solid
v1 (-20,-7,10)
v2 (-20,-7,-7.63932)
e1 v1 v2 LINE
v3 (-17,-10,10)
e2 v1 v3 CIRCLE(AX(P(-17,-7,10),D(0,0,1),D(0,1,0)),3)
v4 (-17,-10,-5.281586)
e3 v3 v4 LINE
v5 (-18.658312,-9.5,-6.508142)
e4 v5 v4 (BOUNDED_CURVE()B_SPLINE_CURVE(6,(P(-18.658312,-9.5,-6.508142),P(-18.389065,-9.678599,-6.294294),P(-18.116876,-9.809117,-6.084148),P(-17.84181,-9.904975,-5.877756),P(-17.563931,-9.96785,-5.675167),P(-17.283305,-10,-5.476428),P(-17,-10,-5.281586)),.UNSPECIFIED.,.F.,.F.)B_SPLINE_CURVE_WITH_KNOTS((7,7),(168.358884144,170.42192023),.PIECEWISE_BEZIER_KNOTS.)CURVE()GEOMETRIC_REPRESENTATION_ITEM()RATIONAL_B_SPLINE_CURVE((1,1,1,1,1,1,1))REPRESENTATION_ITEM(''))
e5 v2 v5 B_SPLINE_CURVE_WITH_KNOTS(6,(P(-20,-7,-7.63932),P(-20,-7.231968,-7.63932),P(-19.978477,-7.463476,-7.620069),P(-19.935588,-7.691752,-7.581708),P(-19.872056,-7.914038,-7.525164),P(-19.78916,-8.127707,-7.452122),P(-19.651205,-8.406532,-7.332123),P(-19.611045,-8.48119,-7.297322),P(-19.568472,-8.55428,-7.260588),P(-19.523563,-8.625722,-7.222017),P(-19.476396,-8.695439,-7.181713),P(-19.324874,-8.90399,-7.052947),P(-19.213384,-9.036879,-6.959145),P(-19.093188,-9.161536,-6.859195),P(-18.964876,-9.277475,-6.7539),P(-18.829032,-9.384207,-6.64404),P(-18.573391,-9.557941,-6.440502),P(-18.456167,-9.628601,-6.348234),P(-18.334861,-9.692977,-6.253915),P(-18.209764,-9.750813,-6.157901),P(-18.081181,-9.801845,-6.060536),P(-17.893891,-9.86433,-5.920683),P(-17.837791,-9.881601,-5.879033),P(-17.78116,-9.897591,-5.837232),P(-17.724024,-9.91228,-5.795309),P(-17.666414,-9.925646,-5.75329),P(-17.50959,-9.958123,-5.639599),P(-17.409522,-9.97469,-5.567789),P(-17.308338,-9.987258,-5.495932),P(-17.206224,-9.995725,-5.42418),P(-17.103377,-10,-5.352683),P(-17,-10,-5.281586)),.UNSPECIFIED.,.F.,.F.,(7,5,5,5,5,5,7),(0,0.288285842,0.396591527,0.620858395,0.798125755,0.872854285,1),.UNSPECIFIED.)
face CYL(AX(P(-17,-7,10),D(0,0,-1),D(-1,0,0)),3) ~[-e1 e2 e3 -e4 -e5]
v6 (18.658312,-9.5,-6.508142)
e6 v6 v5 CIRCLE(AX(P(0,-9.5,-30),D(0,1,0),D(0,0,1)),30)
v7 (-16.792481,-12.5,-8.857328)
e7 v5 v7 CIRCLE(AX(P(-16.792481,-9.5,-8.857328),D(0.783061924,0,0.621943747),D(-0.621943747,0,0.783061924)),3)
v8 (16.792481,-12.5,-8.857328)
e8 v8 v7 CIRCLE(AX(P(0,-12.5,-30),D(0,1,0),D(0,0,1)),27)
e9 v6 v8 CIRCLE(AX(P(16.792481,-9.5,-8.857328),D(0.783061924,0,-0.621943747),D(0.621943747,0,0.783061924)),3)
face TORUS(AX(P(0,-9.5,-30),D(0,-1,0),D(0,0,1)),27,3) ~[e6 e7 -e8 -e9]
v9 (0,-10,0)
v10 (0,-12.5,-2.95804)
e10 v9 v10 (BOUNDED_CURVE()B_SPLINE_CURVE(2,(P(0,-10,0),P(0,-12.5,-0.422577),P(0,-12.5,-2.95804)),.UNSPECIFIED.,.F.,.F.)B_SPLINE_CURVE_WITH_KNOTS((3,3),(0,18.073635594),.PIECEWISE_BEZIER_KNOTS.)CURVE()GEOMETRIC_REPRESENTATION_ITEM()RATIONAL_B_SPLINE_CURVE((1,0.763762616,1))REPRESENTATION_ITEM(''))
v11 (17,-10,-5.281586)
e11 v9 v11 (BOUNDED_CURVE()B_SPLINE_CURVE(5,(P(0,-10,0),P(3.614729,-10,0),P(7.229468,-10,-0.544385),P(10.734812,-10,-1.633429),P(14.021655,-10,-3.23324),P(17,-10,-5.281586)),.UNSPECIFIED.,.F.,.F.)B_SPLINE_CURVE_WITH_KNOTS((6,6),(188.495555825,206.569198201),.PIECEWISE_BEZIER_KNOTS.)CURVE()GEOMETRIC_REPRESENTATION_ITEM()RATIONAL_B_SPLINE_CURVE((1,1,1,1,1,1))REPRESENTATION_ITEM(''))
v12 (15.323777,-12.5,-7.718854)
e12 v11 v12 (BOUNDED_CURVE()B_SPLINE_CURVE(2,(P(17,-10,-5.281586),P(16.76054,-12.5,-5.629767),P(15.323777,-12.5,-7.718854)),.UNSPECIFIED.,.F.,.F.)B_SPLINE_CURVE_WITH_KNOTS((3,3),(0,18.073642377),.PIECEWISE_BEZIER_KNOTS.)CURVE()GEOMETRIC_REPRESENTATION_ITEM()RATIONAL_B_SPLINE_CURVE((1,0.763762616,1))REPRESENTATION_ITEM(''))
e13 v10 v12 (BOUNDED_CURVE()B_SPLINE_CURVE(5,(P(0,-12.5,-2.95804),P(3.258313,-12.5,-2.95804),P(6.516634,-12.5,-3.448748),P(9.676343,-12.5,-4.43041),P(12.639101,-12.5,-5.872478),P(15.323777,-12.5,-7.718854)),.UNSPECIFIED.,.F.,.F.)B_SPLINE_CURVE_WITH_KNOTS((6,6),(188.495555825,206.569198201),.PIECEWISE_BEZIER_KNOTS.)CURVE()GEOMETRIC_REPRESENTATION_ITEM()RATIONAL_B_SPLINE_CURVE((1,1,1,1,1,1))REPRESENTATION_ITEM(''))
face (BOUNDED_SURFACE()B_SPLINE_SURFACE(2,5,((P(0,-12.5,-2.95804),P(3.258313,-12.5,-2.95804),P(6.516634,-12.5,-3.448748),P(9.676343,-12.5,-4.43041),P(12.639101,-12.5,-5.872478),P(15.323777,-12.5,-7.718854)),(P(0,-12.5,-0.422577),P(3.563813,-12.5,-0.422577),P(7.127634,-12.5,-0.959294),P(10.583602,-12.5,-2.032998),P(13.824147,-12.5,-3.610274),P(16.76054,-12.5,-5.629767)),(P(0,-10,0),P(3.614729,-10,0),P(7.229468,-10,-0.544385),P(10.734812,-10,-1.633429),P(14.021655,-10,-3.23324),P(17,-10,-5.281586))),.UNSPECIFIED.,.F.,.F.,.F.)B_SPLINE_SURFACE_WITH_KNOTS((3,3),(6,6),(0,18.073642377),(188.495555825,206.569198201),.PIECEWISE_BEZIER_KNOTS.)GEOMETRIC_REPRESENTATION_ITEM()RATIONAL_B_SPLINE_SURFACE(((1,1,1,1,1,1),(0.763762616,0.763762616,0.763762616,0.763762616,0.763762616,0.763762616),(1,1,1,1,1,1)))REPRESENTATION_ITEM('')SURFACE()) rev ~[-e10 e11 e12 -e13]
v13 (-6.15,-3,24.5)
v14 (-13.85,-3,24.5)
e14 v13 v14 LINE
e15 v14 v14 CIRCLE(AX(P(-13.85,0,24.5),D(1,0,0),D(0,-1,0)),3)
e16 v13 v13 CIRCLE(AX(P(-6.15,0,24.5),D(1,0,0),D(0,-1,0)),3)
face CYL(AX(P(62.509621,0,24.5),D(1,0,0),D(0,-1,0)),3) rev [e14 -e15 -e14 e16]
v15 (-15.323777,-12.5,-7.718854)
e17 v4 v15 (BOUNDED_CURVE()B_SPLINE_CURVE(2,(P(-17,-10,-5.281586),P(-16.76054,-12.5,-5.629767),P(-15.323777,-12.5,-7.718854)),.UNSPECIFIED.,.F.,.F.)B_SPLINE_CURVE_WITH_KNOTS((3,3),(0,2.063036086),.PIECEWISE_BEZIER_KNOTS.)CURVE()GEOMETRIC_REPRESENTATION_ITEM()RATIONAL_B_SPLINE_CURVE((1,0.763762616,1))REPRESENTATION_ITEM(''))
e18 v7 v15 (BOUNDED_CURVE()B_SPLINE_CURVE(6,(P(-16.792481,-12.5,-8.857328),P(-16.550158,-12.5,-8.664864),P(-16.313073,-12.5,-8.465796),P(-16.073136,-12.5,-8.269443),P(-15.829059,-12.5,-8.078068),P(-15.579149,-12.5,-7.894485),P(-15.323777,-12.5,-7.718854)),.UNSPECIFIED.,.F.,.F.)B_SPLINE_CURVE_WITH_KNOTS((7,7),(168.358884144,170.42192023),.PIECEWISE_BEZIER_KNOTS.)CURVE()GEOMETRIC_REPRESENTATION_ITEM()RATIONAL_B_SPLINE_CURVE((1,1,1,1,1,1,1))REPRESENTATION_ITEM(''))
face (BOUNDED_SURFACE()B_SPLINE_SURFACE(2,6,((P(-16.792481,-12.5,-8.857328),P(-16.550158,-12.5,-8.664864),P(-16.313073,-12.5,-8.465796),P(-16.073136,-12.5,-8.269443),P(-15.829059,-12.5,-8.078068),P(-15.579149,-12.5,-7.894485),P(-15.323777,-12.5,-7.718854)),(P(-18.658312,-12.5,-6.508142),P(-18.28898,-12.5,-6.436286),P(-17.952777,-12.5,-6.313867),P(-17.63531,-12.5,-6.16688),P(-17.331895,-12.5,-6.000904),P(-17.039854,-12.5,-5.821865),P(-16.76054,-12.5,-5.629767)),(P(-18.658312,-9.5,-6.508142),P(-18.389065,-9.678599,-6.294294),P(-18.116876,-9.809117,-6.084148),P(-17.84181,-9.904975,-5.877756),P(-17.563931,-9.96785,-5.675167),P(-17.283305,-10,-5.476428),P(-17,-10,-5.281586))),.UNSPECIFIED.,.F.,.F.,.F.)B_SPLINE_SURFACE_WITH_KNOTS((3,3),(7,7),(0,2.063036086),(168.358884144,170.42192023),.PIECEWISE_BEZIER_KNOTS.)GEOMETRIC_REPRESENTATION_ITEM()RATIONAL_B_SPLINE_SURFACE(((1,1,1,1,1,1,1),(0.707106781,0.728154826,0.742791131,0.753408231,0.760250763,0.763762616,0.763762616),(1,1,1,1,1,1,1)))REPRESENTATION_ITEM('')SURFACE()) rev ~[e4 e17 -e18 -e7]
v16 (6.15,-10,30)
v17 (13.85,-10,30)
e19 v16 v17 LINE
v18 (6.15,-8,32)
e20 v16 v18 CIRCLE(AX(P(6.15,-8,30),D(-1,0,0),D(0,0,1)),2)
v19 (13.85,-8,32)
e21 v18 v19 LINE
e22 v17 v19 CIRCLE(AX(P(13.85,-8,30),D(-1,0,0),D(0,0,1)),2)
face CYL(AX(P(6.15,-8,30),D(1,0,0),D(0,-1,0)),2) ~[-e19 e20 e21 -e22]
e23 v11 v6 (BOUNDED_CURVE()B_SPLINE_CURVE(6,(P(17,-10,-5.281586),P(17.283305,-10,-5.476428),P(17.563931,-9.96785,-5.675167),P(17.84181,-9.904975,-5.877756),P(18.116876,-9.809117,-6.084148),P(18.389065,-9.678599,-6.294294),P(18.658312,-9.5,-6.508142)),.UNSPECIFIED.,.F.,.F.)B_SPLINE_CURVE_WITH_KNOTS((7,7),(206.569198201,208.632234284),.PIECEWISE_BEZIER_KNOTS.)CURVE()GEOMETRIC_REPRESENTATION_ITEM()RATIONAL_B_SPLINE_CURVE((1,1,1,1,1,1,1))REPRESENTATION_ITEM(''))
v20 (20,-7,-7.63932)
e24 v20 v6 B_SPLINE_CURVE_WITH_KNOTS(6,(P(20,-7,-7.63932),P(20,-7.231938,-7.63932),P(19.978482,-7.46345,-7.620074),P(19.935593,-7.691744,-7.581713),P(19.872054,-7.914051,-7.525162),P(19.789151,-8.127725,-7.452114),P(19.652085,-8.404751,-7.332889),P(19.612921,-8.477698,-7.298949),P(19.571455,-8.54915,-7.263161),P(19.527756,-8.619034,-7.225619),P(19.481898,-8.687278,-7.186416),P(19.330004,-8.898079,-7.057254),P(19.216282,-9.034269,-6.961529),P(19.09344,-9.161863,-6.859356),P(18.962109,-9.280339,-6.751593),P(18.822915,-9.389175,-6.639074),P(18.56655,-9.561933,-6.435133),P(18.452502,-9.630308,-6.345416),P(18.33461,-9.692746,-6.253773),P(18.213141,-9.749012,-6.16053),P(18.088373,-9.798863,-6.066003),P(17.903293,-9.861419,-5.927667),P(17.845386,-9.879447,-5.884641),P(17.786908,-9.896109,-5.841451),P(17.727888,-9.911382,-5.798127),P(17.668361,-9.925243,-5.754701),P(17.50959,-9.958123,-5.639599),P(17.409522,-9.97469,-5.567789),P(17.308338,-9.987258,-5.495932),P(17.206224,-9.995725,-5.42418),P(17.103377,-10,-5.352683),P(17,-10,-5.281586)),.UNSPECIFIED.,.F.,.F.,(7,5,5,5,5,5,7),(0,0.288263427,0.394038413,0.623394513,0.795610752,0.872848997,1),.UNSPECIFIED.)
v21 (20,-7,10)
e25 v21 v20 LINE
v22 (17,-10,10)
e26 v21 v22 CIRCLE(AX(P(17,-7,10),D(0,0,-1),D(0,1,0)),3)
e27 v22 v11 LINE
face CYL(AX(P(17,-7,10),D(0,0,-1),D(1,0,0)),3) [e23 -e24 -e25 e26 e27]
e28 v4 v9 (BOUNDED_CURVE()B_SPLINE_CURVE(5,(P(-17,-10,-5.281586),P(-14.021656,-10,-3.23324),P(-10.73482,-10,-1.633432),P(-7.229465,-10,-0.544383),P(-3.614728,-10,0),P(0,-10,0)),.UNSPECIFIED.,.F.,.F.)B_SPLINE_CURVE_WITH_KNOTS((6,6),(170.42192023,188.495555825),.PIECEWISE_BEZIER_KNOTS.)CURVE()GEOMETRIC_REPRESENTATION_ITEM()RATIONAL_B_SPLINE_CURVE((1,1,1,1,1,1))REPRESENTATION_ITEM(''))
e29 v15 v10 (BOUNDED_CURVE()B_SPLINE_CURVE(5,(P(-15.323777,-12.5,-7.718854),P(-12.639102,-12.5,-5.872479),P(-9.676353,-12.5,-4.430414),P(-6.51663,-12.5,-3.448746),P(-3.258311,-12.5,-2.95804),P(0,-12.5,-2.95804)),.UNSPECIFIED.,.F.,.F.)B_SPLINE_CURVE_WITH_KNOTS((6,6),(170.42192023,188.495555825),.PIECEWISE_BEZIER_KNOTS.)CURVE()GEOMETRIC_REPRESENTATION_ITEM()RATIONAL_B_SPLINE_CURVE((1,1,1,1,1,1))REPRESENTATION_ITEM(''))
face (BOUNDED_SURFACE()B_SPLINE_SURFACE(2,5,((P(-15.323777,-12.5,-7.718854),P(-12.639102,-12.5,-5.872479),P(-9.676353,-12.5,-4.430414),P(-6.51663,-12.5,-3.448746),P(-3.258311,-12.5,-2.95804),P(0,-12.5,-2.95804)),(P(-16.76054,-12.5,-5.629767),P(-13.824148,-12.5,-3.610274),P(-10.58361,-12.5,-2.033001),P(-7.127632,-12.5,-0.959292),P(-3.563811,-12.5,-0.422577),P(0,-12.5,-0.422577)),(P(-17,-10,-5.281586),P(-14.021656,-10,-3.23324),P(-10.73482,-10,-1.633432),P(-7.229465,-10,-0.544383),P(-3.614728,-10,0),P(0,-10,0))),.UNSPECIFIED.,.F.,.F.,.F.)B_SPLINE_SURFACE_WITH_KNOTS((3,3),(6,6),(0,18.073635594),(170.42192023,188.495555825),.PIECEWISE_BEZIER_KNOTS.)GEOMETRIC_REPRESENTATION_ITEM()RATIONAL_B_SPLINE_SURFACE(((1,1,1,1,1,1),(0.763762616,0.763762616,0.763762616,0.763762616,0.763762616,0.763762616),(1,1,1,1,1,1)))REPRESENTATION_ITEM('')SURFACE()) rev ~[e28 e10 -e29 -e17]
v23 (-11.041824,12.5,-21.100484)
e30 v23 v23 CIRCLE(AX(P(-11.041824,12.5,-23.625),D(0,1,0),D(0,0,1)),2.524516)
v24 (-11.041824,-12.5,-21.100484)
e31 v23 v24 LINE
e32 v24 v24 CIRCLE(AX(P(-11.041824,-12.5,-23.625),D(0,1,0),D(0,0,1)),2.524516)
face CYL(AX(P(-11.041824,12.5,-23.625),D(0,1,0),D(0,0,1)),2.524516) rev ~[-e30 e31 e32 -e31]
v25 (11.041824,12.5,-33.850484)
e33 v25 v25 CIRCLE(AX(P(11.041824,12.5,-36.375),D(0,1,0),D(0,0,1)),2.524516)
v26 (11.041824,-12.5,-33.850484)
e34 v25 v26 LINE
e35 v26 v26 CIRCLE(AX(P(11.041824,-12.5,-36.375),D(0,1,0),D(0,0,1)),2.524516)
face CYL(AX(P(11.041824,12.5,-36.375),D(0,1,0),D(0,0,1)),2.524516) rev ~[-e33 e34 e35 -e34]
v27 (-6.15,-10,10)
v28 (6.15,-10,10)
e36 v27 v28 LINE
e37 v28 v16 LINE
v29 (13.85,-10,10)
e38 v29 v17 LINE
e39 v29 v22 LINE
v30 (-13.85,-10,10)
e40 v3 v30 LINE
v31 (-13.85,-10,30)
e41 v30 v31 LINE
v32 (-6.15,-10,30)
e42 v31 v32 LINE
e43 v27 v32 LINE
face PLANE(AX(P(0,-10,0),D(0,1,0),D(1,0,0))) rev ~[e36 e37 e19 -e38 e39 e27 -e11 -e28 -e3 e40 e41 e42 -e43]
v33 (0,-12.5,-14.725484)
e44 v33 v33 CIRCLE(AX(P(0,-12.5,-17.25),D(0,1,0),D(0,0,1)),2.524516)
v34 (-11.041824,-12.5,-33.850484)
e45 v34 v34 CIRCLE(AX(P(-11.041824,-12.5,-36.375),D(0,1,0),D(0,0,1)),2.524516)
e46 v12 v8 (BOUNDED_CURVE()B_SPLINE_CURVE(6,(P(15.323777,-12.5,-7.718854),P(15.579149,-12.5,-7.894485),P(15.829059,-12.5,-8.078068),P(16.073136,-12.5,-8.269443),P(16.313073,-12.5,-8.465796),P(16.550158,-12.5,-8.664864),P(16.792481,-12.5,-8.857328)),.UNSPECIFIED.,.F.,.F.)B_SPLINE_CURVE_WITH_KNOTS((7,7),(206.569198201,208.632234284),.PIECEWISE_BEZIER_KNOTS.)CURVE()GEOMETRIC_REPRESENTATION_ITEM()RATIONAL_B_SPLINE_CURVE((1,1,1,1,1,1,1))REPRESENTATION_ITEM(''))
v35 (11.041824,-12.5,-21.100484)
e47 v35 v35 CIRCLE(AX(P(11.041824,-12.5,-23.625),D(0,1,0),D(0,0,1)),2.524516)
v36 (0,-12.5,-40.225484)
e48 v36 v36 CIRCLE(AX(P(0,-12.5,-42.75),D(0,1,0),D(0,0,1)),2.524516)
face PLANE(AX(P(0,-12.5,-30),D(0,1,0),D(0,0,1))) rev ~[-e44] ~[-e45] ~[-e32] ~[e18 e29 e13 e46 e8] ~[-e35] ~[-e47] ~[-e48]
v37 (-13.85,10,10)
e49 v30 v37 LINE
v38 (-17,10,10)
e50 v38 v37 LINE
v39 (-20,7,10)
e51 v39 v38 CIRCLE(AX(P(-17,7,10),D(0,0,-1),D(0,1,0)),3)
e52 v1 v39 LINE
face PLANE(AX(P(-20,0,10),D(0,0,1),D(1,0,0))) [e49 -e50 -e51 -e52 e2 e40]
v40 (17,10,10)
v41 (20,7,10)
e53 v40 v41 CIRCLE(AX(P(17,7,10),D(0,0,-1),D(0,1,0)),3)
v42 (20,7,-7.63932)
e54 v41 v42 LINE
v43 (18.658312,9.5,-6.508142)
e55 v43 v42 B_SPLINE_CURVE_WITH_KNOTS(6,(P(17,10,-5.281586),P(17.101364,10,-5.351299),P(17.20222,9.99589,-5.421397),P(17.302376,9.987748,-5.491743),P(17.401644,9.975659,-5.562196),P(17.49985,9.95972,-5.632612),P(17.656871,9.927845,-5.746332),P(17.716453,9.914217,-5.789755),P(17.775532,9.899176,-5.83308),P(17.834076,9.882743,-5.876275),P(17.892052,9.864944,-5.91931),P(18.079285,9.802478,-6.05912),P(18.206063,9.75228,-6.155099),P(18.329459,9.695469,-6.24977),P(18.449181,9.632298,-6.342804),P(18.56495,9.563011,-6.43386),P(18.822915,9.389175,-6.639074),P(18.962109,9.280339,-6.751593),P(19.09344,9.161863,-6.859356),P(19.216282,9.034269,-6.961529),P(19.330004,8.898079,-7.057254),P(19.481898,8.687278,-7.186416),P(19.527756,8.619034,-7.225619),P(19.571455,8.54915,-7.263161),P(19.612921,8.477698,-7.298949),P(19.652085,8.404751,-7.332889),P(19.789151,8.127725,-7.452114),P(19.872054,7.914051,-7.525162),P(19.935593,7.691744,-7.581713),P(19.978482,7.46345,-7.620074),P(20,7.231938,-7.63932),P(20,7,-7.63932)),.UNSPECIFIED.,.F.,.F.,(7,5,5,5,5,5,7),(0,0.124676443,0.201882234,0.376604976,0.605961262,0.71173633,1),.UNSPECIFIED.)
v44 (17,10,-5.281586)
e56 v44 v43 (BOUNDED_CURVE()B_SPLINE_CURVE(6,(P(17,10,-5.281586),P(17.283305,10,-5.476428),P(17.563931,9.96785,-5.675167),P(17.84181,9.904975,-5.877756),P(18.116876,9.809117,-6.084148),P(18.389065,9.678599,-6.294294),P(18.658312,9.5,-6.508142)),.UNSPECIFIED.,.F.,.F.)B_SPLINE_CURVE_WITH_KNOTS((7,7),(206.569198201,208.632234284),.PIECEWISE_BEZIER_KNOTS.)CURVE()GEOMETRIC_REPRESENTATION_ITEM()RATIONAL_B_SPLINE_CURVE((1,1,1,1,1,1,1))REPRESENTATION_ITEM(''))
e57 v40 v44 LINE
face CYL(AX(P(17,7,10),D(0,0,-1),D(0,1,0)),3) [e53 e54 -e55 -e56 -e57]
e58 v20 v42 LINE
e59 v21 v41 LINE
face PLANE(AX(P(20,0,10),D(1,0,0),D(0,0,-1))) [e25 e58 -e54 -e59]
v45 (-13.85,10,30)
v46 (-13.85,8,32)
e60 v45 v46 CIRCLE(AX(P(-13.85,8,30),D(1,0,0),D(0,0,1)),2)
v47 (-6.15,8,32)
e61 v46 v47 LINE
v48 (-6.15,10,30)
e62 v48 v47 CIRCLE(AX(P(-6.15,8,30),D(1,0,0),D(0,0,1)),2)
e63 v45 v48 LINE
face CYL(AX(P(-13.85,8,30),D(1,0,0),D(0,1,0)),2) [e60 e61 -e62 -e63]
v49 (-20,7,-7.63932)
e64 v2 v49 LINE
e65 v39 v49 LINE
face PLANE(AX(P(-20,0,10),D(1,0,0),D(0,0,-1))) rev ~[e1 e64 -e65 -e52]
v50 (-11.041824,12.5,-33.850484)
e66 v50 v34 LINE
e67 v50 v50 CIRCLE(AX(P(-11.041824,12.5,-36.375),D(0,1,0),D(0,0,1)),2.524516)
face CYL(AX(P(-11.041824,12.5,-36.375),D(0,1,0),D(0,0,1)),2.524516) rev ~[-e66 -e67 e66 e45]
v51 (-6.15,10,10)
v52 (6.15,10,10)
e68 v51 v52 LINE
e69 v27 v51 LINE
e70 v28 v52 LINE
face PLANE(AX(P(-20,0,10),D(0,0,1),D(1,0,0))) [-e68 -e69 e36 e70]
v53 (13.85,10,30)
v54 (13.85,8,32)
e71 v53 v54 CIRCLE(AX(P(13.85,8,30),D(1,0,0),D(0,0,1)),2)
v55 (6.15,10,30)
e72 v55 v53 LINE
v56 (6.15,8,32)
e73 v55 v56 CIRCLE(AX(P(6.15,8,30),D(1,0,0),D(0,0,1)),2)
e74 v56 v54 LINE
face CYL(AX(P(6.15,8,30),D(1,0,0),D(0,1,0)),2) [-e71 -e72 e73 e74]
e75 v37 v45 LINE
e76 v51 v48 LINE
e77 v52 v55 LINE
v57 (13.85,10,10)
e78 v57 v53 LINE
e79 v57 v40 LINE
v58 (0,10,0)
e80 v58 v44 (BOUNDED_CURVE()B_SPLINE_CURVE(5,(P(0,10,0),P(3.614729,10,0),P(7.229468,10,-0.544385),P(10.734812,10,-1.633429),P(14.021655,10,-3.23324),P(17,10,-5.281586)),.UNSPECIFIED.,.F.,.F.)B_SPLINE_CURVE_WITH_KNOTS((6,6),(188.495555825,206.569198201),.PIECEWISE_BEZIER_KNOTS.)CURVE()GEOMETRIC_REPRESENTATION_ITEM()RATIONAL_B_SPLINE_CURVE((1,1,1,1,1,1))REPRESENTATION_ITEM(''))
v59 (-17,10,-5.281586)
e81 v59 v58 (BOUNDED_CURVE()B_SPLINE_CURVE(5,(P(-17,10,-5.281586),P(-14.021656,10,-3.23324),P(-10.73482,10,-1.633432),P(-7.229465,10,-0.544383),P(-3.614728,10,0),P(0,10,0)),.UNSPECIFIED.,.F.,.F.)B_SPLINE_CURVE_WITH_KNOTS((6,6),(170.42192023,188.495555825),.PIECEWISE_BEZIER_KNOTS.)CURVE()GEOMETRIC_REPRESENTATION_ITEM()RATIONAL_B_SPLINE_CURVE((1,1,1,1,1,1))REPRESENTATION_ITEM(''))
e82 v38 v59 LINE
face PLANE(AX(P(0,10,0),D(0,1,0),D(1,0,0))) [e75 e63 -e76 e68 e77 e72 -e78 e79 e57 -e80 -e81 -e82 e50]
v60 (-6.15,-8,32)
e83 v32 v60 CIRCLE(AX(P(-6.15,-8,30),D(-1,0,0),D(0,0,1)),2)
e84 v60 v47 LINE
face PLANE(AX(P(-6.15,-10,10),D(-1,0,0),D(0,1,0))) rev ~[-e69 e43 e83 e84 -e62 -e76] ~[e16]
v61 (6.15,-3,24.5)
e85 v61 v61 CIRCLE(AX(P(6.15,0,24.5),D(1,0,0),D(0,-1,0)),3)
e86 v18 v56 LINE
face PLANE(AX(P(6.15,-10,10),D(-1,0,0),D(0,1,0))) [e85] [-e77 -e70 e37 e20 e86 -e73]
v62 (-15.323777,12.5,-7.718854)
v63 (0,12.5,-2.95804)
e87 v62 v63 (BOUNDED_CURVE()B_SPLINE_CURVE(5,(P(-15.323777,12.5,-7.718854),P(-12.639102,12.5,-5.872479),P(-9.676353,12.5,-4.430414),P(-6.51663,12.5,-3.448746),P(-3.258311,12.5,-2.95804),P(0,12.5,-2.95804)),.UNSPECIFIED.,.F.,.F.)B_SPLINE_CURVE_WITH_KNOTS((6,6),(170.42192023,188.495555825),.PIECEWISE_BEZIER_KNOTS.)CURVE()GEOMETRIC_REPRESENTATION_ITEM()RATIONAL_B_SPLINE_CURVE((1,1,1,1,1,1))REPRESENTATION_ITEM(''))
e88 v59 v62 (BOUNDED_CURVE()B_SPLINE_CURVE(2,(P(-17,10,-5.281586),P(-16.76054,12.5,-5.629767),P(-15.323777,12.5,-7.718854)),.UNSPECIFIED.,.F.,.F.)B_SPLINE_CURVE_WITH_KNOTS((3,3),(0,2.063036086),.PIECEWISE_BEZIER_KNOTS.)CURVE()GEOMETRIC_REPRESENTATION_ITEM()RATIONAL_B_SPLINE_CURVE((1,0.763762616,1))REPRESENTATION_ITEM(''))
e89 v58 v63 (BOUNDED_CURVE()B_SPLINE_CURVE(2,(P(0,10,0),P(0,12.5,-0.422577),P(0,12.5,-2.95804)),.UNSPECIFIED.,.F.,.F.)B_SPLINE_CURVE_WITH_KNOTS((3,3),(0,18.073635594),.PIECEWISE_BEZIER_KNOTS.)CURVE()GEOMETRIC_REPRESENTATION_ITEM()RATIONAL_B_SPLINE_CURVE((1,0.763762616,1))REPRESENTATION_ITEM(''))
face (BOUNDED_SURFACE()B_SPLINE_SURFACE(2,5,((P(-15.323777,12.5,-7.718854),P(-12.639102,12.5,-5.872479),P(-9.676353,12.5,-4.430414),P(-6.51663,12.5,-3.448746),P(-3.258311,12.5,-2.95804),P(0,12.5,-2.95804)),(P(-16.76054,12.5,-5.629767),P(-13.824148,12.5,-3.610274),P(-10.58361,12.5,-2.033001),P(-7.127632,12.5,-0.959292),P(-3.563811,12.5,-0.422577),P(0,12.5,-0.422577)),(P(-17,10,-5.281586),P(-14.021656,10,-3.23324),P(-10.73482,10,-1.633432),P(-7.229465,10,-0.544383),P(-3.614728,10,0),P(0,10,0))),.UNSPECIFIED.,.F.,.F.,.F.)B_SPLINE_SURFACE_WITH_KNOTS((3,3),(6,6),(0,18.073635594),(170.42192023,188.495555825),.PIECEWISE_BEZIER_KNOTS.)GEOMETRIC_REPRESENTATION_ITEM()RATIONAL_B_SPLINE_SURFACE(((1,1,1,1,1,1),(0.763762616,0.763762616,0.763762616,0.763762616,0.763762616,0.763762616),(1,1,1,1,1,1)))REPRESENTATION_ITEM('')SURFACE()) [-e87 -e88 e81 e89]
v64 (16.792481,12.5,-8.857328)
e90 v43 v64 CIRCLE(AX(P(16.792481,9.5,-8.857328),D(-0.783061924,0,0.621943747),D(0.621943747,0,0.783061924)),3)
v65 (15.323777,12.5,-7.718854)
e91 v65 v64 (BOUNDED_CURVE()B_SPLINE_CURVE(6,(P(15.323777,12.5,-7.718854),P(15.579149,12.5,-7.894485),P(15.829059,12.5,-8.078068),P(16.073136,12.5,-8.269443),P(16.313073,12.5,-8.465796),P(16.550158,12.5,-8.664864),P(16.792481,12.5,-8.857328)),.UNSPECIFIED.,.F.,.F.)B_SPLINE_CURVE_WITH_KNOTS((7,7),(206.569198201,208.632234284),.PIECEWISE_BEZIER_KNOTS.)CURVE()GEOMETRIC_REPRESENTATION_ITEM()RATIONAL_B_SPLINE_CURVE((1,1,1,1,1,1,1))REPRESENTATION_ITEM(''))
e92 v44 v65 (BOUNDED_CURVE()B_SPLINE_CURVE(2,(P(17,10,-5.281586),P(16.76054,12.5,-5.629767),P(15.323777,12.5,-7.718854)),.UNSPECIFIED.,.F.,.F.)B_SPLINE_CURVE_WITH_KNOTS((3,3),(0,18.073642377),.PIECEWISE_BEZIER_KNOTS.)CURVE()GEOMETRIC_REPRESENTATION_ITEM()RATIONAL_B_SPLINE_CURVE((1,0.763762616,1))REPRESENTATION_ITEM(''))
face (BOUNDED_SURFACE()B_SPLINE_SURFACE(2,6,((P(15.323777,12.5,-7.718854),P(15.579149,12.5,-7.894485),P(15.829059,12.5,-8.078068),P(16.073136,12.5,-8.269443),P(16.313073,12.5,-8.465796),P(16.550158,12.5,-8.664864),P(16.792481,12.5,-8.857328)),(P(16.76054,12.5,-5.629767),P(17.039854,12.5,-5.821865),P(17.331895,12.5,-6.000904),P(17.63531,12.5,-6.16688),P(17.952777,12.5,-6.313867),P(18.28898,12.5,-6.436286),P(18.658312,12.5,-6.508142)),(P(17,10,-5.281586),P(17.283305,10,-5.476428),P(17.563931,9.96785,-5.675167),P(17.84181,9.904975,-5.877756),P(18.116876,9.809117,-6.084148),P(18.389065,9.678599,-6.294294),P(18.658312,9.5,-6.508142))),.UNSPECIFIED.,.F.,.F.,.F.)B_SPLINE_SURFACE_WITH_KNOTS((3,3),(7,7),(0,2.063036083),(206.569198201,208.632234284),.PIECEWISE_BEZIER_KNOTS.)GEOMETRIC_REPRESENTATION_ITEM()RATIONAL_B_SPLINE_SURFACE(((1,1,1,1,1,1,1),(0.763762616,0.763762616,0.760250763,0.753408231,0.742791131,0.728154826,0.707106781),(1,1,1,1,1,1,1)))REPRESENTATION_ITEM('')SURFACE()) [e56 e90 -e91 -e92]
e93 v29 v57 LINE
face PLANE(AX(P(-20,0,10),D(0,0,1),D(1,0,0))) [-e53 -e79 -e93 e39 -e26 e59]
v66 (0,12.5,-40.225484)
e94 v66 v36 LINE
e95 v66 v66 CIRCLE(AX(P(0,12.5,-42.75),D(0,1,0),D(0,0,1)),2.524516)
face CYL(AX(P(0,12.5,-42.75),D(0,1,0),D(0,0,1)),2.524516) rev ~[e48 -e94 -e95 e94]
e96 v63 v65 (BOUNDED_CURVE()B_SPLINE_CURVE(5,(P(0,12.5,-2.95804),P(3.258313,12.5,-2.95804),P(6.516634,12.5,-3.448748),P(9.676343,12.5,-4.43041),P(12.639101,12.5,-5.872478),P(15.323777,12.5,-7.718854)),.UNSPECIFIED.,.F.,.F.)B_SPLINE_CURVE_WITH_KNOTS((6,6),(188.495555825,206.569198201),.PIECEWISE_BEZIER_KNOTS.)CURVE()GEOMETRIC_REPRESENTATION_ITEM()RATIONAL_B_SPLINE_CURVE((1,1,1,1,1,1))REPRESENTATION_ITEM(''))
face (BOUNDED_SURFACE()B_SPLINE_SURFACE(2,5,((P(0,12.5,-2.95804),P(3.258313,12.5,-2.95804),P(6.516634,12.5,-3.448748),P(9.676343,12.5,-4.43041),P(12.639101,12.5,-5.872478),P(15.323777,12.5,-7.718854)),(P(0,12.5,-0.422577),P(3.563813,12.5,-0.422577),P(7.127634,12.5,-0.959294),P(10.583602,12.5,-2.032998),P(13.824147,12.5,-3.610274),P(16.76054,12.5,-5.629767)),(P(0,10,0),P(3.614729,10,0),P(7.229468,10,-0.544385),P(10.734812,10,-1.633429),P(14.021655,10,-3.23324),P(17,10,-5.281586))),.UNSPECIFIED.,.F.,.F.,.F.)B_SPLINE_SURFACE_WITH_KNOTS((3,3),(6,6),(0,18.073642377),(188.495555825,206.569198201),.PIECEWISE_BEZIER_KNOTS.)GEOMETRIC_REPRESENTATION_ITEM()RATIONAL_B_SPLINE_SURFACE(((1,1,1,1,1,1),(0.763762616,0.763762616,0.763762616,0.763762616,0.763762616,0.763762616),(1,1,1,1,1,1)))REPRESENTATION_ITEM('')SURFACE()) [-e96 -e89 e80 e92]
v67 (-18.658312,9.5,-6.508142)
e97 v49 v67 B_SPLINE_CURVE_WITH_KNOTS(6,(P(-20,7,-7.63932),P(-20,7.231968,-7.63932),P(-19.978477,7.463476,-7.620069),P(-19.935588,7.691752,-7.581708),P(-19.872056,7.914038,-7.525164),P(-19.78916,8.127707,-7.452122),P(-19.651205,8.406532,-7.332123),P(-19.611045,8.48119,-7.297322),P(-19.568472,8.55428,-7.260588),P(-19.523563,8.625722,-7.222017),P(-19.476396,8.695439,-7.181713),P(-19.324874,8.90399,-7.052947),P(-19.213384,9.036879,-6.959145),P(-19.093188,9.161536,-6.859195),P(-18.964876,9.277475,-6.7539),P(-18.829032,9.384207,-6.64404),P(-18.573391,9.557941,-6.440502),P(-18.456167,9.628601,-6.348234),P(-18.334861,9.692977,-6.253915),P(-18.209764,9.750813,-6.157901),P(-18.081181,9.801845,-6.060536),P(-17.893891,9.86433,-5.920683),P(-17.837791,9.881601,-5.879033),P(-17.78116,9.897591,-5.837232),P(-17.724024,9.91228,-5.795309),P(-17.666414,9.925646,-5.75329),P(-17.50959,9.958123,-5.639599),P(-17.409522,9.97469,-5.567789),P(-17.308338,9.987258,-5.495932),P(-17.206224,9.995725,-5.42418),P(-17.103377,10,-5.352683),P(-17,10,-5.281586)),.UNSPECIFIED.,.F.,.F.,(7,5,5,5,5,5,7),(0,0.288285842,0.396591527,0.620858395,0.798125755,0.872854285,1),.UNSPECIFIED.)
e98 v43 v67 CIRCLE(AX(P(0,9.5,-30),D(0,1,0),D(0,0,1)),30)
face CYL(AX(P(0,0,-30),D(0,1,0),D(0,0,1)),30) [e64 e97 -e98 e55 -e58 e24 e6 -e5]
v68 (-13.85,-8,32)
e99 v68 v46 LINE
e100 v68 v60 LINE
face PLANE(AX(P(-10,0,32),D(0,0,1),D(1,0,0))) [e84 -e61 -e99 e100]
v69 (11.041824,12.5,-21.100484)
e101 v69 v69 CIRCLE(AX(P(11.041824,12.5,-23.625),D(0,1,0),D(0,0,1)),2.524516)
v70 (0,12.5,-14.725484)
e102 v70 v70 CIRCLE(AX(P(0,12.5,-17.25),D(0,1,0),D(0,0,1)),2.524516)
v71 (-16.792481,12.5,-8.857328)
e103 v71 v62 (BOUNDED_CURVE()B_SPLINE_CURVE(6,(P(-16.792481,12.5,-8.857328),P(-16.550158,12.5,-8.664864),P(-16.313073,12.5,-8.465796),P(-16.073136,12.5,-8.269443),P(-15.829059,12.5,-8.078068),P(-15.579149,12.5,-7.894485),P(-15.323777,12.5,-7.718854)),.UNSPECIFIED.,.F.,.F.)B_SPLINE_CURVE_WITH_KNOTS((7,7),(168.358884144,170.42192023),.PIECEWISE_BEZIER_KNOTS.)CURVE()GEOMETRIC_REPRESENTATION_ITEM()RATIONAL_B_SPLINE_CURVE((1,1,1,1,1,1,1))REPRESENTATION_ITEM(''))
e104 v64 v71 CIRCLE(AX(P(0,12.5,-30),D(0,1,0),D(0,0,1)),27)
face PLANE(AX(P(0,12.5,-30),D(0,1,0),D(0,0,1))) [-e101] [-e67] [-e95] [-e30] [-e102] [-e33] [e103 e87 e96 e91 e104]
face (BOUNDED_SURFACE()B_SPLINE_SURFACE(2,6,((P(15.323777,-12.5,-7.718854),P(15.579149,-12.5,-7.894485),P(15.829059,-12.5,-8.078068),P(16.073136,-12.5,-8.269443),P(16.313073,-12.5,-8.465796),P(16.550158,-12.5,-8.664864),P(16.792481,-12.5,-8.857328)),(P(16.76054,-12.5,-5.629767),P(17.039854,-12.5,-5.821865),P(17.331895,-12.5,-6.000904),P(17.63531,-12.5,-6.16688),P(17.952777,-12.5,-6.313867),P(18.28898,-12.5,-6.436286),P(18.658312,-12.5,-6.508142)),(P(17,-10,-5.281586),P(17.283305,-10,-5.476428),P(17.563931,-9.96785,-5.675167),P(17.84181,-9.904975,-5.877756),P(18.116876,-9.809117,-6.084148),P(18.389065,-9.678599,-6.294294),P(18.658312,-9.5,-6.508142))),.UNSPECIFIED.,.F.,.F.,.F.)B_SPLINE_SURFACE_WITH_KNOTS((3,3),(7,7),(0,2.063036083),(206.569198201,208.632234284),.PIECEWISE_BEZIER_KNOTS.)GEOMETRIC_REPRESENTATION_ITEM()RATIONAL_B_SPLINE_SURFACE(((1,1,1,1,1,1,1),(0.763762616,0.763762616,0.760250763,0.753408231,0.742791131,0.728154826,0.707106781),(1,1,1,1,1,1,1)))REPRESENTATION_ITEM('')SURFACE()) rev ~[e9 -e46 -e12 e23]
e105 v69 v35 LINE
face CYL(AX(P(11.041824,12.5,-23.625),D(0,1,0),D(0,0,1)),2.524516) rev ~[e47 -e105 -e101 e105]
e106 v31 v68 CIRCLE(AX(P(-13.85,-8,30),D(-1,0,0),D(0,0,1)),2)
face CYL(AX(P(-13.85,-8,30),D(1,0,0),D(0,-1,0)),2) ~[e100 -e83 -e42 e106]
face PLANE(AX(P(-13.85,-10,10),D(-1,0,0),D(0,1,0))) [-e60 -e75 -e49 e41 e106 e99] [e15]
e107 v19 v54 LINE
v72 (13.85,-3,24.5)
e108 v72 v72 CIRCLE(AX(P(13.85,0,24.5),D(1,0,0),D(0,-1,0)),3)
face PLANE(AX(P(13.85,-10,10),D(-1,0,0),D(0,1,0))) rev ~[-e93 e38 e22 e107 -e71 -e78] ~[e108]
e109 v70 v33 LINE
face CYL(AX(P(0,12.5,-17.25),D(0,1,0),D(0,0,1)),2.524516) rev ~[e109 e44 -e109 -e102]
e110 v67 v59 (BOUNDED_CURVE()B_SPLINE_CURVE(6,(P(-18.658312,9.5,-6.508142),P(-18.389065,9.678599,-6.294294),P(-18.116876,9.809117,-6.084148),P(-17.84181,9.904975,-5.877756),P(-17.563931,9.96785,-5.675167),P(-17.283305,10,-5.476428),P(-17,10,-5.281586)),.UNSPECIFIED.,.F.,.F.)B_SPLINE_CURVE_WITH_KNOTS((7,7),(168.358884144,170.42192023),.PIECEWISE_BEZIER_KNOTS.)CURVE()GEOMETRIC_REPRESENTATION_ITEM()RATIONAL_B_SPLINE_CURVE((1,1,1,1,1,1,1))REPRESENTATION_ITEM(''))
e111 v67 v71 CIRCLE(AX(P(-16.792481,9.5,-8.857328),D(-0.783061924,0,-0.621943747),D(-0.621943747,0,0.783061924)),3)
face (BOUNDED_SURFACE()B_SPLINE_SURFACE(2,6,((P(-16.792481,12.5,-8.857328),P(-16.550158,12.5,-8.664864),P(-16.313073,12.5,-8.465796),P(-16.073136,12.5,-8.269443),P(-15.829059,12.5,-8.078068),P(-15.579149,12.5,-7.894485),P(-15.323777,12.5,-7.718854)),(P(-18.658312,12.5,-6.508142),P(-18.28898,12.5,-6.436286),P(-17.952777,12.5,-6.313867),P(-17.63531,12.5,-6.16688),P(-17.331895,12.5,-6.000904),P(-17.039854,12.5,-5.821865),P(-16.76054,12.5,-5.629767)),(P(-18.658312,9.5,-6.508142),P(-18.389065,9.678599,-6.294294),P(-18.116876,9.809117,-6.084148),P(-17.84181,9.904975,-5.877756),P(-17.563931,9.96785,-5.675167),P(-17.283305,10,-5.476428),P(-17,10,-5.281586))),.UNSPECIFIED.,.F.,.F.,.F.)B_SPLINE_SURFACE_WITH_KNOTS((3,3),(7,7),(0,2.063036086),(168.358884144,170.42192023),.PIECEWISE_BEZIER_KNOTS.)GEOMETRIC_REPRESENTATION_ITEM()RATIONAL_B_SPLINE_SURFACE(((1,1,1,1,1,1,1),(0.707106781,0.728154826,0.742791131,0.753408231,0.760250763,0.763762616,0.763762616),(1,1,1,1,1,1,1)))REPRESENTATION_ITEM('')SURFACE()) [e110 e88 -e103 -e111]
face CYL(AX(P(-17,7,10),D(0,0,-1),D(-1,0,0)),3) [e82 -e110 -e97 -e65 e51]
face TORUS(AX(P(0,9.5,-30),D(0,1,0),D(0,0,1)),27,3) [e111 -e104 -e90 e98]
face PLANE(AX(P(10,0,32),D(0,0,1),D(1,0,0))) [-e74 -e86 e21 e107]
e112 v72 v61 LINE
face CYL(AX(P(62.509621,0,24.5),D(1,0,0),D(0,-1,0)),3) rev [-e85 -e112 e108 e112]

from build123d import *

# Parameters (mm, degrees)
SKETCH1_W               = 40
SKETCH1_H               = 20
BOSS_EXTRUDE1_DEPTH     = 10
FILLET1_R               = 3
SKETCH3_R               = 30
BOSS_EXTRUDE2_DEPTH     = 12.5
FILLET2_R               = 3
SKETCH5_R               = 2.524516272
CUT_EXTRUDE1_DEPTH      = 72.589105477
SKETCH6_W               = 7.7
SKETCH6_H               = 20
BOSS_EXTRUDE3_DEPTH     = 22
CUT_EXTRUDE3_DEPTH      = 76.359621305
CUT_EXTRUDE3_DEPTH_BACK = 76.359621305
SKETCH7_R               = 3
FILLET3_R               = 2


with BuildPart() as part:
    # Sketch1 → Boss-Extrude1 (new, symmetric)
    with BuildSketch(Plane(origin=(0, 0, 0), x_dir=(1, 0, 0), z_dir=(0, 1, 0))):
        Rectangle(SKETCH1_W, SKETCH1_H)
    extrude(amount=BOSS_EXTRUDE1_DEPTH, both=True)

    # Fillet1
    fillet1_edges = [part.edges().sort_by_distance(p)[0] for p in [
        (20, 10, 0),
        (-20, 10, 0),
        (20, -10, 0),
        (-20, -10, 0),
    ]]
    fillet(fillet1_edges, radius=FILLET1_R)

    # Sketch3 → Boss-Extrude2 (add, symmetric)
    with BuildSketch(Plane(origin=(0, 0, 0), x_dir=(1, 0, 0), z_dir=(0, 1, 0))):
        with Locations(Location((0, 30, 0), (0, 0, 270))):
            Circle(SKETCH3_R)
    extrude(amount=BOSS_EXTRUDE2_DEPTH, both=True)

    # Fillet2
    fillet2_edges = [part.edges().sort_by_distance(p)[0] for p in [
        (0, -12.5, -60),
        (0, 12.5, -60),
    ]]
    fillet(fillet2_edges, radius=FILLET2_R)

    # Sketch5 → Cut-Extrude1 (cut, through all)
    with BuildSketch(Plane(origin=(0, 12.5, 0), x_dir=(1, 0, 0), z_dir=(0, 1, 0))):
        with Locations(Location((0, 42.75, 0), (0, 0, 270))):
            Circle(SKETCH5_R)
        with Locations(Location((11.041823898, 36.375, 0), (0, 0, 270))):
            Circle(SKETCH5_R)
        with Locations(Location((11.041823898, 23.625, 0), (0, 0, 270))):
            Circle(SKETCH5_R)
        with Locations(Location((0, 17.25, 0), (0, 0, 270))):
            Circle(SKETCH5_R)
        with Locations(Location((-11.041823898, 23.625, 0), (0, 0, 270))):
            Circle(SKETCH5_R)
        with Locations(Location((-11.041823898, 36.375, 0), (0, 0, 270))):
            Circle(SKETCH5_R)
    extrude(amount=-CUT_EXTRUDE1_DEPTH, mode=Mode.SUBTRACT)

    # Sketch6 → Boss-Extrude3 (add)
    with BuildSketch(Plane.XY.offset(10)):
        with Locations((-10, 0)):
            Rectangle(SKETCH6_W, SKETCH6_H)
        with Locations((10, 0)):
            Rectangle(SKETCH6_W, SKETCH6_H)
    extrude(amount=BOSS_EXTRUDE3_DEPTH)

    # Sketch7 → Cut-Extrude3 (cut, two sides: drawn at the far end of the back side and taken through both)
    with BuildSketch(Plane.ZY.offset(13.85).offset(-CUT_EXTRUDE3_DEPTH_BACK)):
        with Locations(Location((24.5, 0, 0), (0, 0, 270))):
            Circle(SKETCH7_R)
    extrude(amount=CUT_EXTRUDE3_DEPTH + CUT_EXTRUDE3_DEPTH_BACK, mode=Mode.SUBTRACT)

    # Fillet3
    fillet3_edges = [part.edges().sort_by_distance(p)[0] for p in [
        (-10, 10, 32),
        (-10, -10, 32),
        (10, 10, 32),
        (10, -10, 32),
    ]]
    fillet(fillet3_edges, radius=FILLET3_R)


solid = part.part
